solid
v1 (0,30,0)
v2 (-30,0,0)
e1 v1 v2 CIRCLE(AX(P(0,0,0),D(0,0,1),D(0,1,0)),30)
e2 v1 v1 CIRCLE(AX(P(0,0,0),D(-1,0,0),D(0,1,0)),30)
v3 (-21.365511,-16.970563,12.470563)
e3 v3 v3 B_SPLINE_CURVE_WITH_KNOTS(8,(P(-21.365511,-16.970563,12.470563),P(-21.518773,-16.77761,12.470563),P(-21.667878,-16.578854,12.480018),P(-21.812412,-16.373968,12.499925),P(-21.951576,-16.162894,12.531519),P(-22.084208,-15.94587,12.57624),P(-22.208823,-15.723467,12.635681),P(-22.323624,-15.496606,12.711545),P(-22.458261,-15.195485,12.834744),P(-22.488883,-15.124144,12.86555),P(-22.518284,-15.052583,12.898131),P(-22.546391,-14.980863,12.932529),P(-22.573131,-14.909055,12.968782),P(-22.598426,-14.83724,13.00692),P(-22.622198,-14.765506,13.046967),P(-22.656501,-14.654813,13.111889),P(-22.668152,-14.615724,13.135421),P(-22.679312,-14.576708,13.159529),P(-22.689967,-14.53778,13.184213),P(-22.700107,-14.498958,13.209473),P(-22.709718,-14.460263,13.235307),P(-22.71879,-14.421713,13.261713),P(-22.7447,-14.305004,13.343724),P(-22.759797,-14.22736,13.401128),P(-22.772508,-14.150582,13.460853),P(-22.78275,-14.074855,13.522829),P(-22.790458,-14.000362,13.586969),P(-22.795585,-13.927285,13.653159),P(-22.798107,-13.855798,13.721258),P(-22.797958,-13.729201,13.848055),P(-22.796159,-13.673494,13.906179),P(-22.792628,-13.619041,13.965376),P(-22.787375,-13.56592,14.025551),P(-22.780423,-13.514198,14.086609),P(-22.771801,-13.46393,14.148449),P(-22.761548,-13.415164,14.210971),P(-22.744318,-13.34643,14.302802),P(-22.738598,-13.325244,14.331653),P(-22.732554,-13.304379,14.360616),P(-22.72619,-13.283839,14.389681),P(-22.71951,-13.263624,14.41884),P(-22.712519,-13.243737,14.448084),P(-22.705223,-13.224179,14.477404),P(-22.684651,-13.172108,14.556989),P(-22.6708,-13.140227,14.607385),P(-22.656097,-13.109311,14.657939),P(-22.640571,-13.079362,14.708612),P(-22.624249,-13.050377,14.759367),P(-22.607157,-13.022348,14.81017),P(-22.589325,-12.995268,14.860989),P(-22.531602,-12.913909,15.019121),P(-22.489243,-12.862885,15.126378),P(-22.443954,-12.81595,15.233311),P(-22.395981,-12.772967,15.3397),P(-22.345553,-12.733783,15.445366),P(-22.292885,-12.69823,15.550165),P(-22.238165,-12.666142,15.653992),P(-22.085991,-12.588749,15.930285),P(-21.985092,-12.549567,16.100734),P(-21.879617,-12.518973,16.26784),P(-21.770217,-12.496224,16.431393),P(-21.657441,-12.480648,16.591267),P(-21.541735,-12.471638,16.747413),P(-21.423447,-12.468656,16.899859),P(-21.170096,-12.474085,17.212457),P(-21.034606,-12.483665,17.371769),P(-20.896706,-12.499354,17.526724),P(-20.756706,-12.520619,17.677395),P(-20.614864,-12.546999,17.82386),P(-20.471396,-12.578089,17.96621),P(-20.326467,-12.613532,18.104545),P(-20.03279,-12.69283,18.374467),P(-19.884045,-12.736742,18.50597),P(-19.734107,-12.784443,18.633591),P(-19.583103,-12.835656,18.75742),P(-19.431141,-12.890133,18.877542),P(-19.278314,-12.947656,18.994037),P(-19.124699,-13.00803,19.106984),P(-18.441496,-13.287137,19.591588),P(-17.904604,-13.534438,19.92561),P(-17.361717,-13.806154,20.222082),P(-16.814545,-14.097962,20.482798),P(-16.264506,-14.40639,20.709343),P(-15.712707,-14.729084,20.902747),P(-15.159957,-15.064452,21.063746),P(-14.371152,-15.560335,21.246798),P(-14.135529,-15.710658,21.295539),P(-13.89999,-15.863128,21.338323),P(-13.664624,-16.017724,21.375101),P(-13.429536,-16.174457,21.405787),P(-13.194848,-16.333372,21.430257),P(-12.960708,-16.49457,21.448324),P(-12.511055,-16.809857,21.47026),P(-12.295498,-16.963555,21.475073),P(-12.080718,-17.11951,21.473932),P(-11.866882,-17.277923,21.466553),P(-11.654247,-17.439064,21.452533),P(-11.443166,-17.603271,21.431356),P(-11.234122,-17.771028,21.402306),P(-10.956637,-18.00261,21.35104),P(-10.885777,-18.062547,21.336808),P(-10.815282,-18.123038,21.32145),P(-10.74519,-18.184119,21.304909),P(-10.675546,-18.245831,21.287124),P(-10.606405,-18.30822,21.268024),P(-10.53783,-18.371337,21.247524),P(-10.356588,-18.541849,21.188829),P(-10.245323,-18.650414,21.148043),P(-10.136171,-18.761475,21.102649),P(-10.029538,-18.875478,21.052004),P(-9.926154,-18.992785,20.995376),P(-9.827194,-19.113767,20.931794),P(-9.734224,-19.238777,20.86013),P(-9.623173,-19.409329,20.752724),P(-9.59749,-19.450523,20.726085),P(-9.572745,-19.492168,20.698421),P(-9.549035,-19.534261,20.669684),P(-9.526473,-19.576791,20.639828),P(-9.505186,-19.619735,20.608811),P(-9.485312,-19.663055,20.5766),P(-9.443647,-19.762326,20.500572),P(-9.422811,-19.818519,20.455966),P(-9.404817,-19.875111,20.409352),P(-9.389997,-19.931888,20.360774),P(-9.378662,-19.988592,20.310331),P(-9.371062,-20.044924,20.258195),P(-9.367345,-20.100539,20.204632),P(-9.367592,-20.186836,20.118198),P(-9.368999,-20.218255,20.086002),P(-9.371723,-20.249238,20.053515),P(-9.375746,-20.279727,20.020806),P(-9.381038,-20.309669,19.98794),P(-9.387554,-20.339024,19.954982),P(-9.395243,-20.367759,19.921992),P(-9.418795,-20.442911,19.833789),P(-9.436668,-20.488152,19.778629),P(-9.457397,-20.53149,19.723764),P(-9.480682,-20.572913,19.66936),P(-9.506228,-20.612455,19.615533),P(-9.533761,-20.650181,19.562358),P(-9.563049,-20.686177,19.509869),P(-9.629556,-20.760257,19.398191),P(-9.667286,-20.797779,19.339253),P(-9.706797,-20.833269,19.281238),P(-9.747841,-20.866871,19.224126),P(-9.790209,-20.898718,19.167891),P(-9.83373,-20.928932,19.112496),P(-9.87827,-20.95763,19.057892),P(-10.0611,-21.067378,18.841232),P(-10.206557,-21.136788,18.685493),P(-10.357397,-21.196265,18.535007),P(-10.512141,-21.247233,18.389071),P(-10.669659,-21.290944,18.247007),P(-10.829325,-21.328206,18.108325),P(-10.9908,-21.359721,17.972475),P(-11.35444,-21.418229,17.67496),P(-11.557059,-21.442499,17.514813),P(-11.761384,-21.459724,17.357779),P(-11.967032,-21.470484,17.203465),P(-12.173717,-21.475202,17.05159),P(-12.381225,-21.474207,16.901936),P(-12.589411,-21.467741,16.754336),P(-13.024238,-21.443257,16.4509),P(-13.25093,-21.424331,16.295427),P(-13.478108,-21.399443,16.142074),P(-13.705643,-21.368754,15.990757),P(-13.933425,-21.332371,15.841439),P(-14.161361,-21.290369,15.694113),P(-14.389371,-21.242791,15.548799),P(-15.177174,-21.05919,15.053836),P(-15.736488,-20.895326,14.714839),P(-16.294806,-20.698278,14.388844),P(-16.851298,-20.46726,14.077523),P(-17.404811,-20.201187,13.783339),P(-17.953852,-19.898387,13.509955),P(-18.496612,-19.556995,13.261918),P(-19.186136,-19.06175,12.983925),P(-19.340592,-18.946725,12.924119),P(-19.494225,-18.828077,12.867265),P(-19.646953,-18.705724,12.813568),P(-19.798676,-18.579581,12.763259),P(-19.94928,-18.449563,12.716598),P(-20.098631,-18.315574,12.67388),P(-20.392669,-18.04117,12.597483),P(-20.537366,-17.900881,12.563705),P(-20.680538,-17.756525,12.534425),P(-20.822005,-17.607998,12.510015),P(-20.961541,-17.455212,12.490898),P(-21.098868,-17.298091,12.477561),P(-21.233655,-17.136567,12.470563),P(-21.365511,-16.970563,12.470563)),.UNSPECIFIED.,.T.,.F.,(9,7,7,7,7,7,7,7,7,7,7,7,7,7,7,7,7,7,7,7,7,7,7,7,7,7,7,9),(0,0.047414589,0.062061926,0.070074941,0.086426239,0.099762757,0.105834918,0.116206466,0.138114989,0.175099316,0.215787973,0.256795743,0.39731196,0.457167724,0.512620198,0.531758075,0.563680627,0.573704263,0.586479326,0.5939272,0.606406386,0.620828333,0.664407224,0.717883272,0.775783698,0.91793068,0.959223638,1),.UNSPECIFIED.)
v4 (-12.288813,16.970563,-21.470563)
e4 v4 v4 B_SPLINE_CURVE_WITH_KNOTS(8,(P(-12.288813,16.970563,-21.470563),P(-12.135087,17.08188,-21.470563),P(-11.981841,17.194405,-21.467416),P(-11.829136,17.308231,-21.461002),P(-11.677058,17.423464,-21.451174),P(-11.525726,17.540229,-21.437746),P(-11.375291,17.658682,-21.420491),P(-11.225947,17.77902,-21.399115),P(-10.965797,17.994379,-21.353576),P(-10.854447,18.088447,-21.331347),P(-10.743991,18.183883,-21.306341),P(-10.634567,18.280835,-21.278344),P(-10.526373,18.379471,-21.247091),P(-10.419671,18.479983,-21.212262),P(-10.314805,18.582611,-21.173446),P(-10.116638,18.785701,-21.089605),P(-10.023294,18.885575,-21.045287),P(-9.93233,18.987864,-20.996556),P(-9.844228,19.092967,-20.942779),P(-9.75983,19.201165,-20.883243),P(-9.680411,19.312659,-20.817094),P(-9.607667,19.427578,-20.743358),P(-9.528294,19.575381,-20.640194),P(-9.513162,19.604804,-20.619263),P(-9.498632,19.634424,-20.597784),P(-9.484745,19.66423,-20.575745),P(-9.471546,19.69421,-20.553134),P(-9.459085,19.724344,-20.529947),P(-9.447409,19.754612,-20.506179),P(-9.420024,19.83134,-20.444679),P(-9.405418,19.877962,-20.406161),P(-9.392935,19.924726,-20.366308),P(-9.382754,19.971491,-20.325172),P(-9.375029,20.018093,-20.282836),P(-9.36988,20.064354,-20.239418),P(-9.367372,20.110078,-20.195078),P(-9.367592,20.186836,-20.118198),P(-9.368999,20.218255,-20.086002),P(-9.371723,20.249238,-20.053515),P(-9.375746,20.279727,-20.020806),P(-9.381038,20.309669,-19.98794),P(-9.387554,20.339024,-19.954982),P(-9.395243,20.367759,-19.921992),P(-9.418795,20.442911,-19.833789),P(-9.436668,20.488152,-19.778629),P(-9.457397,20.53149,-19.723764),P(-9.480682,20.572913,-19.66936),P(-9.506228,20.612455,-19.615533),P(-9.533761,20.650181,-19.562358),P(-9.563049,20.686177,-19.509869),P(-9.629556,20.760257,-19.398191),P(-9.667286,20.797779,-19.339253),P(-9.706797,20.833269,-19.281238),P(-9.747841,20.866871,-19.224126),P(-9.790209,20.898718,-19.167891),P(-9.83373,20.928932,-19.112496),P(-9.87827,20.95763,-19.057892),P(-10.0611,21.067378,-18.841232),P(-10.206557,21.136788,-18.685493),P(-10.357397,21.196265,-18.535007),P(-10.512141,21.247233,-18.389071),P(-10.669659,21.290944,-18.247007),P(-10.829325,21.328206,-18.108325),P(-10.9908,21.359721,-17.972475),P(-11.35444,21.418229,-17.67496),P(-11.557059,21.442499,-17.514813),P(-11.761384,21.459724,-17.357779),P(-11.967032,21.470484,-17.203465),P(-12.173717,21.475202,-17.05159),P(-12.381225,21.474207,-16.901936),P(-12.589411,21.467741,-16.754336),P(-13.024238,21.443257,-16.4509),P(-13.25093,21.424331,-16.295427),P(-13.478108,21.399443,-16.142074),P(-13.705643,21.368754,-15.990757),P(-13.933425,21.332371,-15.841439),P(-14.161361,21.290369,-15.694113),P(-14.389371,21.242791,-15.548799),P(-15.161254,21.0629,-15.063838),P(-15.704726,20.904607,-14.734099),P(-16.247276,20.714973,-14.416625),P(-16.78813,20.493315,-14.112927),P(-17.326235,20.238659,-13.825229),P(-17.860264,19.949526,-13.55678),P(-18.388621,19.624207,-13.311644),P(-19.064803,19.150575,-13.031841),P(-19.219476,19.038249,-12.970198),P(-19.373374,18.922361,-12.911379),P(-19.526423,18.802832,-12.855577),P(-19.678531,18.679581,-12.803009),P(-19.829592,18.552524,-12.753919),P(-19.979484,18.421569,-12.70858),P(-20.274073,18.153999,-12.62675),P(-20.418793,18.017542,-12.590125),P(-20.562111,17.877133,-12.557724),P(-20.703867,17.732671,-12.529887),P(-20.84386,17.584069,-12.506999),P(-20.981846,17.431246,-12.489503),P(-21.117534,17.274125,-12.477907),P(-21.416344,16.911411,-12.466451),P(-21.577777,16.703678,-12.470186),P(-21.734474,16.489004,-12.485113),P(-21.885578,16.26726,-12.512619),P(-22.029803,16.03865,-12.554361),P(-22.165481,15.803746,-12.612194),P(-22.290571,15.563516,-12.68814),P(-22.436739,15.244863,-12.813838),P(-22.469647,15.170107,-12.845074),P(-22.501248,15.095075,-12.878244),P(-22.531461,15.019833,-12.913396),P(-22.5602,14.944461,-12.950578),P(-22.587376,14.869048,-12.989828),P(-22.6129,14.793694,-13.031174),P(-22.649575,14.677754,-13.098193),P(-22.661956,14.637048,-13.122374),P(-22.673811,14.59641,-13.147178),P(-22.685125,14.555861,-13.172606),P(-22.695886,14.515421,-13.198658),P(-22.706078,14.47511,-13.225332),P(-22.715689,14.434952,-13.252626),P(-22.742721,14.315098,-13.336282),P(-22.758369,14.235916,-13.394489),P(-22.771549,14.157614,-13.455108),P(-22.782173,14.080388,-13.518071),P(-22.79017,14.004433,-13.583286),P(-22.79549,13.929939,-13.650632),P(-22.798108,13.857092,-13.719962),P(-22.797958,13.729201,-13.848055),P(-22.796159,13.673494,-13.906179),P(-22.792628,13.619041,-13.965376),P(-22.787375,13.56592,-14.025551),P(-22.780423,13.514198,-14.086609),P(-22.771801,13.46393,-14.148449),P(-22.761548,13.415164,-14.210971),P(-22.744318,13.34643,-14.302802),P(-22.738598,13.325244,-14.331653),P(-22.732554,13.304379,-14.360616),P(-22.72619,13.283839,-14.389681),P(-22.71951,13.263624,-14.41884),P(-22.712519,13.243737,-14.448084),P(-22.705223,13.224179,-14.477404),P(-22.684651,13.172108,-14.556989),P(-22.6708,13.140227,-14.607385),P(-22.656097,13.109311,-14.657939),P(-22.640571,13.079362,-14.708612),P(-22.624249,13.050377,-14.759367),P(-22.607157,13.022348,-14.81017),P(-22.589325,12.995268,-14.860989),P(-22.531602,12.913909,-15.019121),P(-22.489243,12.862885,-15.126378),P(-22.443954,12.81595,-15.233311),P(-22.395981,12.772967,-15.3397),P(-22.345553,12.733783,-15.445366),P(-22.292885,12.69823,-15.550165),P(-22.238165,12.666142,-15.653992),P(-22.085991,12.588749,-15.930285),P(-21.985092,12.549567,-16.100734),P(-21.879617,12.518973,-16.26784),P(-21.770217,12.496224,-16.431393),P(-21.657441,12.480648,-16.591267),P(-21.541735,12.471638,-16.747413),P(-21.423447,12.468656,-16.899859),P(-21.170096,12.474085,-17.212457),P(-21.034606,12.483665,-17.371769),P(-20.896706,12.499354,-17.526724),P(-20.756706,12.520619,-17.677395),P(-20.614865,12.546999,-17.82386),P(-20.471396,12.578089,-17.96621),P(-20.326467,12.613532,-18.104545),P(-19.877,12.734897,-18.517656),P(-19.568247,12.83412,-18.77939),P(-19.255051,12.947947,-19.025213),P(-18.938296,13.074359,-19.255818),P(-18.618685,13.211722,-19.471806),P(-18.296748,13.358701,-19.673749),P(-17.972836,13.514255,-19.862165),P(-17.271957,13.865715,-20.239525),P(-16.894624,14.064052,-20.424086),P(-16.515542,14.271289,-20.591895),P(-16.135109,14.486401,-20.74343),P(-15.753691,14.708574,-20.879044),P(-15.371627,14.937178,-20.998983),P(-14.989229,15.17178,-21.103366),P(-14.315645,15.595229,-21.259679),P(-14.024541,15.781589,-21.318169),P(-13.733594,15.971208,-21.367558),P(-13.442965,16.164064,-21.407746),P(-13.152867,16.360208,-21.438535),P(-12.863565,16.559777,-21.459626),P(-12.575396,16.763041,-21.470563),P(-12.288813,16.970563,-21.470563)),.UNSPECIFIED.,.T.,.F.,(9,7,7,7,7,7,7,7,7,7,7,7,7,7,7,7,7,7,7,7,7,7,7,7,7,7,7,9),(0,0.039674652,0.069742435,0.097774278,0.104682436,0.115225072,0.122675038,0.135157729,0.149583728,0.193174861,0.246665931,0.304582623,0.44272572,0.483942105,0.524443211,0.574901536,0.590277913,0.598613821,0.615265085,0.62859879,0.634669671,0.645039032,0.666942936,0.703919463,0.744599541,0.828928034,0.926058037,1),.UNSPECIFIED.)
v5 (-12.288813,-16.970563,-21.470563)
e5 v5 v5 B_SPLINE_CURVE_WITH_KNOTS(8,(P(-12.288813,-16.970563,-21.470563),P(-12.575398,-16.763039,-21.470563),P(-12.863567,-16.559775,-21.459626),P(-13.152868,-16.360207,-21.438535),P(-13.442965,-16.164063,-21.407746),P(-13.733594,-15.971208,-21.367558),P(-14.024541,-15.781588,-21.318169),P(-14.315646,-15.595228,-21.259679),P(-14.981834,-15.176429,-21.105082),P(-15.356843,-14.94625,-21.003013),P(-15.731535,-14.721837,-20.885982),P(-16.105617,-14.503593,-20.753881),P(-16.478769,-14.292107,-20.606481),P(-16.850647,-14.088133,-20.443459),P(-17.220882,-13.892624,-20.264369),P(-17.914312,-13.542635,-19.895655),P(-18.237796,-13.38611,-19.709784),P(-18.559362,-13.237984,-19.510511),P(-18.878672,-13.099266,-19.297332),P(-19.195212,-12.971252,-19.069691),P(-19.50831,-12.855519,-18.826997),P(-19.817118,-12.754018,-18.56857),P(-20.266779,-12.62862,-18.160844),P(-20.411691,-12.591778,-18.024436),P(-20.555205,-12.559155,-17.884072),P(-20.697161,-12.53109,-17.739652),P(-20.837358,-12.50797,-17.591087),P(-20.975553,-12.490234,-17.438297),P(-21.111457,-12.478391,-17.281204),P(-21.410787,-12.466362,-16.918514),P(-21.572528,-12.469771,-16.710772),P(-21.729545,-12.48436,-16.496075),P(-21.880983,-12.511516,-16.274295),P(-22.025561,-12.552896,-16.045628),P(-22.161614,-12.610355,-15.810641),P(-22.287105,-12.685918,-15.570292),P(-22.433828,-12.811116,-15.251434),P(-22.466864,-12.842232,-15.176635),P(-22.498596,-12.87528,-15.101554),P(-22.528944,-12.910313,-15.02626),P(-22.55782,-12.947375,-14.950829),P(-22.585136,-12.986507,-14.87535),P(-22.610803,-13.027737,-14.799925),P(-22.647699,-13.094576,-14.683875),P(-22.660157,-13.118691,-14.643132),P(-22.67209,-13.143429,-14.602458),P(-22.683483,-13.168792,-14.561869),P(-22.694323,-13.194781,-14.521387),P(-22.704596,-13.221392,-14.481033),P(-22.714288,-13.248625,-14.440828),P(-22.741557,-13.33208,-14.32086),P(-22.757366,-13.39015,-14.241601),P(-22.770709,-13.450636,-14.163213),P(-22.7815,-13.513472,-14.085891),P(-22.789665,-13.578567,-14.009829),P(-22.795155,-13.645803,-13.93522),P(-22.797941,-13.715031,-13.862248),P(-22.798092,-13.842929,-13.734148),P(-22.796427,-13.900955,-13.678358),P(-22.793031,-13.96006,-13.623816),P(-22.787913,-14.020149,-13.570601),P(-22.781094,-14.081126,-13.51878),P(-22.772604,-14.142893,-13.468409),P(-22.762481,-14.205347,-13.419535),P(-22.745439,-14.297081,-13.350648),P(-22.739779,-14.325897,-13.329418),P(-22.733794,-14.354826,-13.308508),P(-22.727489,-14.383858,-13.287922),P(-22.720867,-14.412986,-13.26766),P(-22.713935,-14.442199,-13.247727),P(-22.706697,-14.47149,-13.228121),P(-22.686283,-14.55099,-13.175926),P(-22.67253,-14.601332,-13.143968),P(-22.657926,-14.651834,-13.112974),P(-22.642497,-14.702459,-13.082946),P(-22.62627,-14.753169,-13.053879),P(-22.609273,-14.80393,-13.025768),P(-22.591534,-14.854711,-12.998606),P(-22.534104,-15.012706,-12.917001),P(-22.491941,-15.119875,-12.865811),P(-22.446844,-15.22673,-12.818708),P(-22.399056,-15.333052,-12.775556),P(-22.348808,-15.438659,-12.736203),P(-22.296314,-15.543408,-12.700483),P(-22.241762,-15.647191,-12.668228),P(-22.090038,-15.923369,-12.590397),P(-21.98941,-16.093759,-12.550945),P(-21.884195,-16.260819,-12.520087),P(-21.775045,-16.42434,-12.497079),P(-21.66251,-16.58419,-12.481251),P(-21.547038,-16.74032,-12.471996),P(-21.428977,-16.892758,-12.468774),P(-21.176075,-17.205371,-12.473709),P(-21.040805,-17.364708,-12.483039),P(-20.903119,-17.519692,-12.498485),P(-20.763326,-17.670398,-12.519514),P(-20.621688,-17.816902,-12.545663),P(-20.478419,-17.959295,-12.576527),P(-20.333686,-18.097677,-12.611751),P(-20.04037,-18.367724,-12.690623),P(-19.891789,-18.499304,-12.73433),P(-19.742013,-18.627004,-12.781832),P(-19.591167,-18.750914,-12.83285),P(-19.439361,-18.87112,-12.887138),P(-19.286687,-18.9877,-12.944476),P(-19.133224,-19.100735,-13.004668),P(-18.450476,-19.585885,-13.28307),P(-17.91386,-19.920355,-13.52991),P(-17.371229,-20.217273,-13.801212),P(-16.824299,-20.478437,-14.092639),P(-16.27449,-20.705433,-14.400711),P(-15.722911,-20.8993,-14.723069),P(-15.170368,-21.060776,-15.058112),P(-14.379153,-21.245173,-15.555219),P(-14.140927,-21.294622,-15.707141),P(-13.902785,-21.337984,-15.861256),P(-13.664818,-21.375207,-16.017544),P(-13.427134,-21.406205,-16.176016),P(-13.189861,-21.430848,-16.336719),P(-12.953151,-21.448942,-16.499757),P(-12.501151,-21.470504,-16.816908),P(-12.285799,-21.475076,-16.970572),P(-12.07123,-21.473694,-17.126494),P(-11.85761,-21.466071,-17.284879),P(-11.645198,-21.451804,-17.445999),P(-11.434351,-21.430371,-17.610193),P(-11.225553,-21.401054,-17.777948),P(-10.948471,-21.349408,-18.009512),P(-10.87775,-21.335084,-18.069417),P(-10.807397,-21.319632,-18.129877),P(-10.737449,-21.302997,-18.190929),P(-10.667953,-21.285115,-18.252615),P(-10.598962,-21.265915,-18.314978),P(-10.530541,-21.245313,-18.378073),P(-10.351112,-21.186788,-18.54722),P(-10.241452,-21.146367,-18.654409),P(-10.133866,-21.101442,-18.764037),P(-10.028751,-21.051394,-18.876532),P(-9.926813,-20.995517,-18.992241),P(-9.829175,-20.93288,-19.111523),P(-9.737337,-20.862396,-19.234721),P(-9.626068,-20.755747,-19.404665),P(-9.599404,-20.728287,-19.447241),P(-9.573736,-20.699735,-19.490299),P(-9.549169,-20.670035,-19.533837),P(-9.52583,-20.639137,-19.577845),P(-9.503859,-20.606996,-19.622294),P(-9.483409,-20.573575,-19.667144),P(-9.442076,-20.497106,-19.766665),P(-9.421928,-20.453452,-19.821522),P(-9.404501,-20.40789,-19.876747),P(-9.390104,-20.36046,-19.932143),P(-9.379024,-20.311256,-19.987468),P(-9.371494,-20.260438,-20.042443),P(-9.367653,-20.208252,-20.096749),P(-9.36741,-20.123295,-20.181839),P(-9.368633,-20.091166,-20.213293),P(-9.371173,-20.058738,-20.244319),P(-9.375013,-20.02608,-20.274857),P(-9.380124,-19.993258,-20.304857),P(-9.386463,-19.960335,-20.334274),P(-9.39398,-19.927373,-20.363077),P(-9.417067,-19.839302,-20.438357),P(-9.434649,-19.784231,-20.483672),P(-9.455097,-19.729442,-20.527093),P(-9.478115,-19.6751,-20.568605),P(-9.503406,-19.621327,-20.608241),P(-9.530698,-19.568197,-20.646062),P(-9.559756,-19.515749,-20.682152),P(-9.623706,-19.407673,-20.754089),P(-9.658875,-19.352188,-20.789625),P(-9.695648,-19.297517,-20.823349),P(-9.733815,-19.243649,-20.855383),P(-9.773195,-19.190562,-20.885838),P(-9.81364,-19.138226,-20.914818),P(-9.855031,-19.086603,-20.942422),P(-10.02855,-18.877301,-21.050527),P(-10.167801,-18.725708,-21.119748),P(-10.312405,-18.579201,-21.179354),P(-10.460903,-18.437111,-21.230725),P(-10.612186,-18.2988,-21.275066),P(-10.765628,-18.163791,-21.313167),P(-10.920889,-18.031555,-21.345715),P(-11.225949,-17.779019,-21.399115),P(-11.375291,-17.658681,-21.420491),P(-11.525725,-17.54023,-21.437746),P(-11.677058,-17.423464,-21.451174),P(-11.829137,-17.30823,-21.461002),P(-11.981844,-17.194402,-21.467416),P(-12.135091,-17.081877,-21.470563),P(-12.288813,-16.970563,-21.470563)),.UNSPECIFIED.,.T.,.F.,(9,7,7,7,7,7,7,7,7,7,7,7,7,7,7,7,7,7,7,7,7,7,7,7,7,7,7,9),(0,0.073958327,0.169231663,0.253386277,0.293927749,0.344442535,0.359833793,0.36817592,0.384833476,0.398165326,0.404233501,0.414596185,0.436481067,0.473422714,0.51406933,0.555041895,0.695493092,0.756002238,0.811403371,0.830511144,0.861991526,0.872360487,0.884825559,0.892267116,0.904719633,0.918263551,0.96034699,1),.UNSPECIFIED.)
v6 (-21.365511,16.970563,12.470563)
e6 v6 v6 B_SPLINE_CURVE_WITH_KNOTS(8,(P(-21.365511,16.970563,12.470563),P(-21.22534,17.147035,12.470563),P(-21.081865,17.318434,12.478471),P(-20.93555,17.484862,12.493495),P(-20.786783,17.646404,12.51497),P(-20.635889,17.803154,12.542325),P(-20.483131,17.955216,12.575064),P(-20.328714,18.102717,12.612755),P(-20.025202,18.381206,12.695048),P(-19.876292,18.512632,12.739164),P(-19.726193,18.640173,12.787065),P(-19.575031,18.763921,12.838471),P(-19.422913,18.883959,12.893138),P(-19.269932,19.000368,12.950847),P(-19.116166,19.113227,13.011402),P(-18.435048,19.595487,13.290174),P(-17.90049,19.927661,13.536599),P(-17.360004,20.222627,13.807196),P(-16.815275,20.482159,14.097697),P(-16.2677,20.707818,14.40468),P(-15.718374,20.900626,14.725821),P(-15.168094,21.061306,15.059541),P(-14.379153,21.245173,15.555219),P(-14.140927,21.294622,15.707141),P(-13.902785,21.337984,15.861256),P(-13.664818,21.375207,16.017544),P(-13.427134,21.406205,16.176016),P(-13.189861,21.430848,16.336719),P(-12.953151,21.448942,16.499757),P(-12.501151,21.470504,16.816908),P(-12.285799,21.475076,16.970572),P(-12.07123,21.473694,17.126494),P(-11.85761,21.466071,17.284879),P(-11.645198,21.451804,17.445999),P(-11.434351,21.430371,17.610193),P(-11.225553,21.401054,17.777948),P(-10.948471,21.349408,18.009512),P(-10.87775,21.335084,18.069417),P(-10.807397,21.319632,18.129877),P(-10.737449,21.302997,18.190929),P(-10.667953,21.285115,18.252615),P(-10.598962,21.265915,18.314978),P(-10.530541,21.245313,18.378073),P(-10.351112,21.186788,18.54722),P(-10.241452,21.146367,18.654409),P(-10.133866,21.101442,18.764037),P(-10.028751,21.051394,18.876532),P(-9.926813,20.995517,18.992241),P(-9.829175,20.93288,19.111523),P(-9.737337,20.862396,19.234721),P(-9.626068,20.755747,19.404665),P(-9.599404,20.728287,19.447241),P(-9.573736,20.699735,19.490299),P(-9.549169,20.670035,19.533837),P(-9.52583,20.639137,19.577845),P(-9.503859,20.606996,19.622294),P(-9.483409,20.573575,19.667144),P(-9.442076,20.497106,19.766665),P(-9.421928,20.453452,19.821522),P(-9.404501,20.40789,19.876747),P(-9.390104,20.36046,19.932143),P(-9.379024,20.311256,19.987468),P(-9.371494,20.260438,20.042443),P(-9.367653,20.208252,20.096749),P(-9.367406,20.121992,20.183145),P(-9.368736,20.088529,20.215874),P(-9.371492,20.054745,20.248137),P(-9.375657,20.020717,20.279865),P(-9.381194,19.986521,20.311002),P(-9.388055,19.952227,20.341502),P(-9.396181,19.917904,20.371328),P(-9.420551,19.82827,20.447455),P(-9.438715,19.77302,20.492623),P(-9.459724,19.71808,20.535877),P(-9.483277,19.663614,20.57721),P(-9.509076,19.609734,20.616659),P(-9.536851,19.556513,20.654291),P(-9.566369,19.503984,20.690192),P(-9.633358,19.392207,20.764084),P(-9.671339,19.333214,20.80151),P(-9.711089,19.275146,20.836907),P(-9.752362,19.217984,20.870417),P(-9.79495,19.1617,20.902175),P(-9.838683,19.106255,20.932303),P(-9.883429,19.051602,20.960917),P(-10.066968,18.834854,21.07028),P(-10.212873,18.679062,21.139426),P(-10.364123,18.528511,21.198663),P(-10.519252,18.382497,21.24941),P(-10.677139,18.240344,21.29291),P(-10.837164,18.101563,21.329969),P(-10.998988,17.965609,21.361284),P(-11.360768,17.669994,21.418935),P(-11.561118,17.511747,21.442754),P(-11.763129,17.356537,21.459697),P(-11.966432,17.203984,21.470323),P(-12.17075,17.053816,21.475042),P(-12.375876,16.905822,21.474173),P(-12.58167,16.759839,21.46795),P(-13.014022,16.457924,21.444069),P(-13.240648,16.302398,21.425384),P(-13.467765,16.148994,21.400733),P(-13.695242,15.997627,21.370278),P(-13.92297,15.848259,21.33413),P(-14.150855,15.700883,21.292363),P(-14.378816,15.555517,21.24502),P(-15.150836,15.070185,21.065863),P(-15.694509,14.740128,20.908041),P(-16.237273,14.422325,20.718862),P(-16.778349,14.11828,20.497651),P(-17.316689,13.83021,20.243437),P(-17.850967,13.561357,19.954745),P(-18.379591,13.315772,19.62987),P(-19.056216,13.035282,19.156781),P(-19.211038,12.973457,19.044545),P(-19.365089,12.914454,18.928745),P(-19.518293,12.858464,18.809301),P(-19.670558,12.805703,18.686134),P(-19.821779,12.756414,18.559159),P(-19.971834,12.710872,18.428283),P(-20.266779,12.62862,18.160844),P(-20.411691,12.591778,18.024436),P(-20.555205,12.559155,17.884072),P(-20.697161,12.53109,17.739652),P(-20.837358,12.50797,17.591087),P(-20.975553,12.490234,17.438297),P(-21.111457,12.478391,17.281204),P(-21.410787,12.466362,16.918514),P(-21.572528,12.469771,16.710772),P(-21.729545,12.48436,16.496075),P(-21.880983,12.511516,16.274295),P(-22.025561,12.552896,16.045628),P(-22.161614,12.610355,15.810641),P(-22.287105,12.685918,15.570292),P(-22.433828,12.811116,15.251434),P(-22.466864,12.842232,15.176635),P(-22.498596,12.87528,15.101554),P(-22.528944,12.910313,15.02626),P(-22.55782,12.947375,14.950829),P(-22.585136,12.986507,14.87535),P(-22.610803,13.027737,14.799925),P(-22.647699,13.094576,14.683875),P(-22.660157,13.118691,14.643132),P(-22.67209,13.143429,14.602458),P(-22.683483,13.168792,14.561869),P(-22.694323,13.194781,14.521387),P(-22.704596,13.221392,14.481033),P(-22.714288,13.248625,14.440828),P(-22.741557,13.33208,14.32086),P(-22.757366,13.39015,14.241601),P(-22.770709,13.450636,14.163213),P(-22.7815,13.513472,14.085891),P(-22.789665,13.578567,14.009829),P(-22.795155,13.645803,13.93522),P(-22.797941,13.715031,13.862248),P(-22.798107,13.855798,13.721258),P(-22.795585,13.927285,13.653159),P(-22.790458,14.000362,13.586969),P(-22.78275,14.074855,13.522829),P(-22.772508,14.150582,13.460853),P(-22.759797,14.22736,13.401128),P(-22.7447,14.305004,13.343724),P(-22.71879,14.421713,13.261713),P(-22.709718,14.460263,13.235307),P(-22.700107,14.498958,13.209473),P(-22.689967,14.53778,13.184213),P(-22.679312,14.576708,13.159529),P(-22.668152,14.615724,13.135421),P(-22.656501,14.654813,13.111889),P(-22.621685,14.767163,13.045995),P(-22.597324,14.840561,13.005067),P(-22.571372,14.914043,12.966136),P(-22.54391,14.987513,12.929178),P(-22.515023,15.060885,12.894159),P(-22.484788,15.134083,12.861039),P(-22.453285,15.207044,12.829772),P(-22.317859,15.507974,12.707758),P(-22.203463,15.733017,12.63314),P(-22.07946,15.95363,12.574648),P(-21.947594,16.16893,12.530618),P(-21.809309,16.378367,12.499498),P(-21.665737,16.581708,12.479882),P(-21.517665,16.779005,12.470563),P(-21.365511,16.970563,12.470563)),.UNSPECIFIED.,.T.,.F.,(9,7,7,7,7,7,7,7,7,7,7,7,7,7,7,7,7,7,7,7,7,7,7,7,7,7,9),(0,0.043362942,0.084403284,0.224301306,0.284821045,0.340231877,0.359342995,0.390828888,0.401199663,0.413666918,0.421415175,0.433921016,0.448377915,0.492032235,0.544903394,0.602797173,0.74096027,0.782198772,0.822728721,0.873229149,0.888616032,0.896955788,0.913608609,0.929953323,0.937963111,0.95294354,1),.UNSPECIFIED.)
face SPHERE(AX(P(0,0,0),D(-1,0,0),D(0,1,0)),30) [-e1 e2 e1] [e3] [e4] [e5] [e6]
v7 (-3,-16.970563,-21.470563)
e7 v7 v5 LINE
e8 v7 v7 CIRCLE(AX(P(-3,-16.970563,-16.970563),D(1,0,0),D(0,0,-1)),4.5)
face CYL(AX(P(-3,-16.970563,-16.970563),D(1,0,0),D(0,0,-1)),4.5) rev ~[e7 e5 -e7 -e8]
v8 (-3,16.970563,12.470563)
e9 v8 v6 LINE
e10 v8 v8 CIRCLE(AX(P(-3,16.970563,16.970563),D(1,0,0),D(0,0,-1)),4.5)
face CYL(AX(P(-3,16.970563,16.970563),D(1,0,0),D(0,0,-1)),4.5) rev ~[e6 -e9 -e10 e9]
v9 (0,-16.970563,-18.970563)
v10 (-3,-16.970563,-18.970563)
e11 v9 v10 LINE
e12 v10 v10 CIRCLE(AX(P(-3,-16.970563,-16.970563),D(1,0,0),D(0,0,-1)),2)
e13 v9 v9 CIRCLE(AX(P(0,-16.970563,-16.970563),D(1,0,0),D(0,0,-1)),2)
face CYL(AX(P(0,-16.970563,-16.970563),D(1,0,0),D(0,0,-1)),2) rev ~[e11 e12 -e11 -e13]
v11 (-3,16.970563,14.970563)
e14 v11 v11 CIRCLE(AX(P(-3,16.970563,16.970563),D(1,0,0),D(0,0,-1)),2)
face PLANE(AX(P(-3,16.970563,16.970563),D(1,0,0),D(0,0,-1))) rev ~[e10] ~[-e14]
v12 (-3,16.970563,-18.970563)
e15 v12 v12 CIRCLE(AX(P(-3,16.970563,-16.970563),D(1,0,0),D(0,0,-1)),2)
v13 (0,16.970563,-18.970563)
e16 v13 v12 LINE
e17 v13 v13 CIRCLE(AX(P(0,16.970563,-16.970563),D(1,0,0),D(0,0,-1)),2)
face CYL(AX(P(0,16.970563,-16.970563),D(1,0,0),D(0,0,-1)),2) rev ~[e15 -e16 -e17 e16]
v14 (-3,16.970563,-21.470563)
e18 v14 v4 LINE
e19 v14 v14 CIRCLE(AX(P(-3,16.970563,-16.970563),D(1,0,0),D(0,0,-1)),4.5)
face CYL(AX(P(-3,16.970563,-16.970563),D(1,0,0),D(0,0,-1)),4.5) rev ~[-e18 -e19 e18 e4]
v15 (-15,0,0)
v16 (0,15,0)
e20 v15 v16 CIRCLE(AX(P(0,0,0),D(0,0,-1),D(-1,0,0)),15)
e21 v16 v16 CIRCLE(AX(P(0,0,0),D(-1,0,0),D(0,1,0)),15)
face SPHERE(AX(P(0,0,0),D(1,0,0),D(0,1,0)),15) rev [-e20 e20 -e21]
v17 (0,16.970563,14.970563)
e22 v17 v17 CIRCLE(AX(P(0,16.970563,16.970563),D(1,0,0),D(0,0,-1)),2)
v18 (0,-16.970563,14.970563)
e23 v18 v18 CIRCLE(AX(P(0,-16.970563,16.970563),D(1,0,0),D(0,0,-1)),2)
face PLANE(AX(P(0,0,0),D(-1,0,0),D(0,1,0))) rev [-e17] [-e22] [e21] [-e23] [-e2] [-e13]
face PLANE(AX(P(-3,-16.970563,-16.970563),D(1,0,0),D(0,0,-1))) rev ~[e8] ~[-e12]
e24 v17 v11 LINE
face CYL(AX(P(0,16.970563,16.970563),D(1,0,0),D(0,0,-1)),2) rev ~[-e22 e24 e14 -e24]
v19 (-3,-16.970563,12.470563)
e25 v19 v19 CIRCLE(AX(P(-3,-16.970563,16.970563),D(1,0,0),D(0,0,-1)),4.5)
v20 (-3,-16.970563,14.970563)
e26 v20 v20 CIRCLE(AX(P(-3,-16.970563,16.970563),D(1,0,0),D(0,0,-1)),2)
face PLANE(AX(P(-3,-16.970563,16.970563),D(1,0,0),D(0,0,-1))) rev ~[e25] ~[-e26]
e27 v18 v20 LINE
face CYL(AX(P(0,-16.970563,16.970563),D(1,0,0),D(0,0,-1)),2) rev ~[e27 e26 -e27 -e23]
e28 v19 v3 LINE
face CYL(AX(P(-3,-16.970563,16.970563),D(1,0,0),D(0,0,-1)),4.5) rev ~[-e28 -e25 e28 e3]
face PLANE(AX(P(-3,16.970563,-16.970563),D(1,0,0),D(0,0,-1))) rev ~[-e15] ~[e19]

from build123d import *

# Parameters (mm, degrees)
SKETCH4_R               = 2
CUT_EXTRUDE3_DEPTH      = 1
CUT_EXTRUDE3_DEPTH_BACK = 31
SKETCH5_R               = 4.5
CUT_EXTRUDE4_DEPTH      = 28


with BuildPart() as part:
    # Sketch3 → Revolve1 (revolve)
    with BuildSketch(Plane.XY):
        with BuildLine():
            Line((-30, 0), (-15, 0))
            ThreePointArc((-15, 0), (-10.606601718, 10.606601718), (0, 15))
            Line((0, 15), (0, 30))
            ThreePointArc((0, 30), (-21.213203436, 21.213203436), (-30, 0))
        make_face()
    revolve(axis=Axis((0, 0, 0), (-1, 0, 0)))

    # Sketch4 → Cut-Extrude3 (cut, two sides)
    with BuildSketch(Plane(origin=(0, 0, 0), x_dir=(0, 0, -1), z_dir=(1, 0, 0))) as cut_extrude3_sk:
        with Locations((-16.970562748, 16.970562748)):
            Circle(SKETCH4_R)
        with Locations((16.970562748, 16.970562748)):
            Circle(SKETCH4_R)
        with Locations((16.970562748, -16.970562748)):
            Circle(SKETCH4_R)
        with Locations((-16.970562748, -16.970562748)):
            Circle(SKETCH4_R)
    extrude(amount=CUT_EXTRUDE3_DEPTH, mode=Mode.SUBTRACT)
    extrude(cut_extrude3_sk.sketch, amount=-CUT_EXTRUDE3_DEPTH_BACK, mode=Mode.SUBTRACT)

    # Sketch5 → Cut-Extrude4 (cut, through all)
    with BuildSketch(Plane(origin=(-3, 0, 0), x_dir=(0, 0, -1), z_dir=(1, 0, 0))):
        with Locations((-16.970562748, 16.970562748)):
            Circle(SKETCH5_R)
        with Locations((16.970562748, 16.970562748)):
            Circle(SKETCH5_R)
        with Locations((16.970562748, -16.970562748)):
            Circle(SKETCH5_R)
        with Locations((-16.970562748, -16.970562748)):
            Circle(SKETCH5_R)
    extrude(amount=-CUT_EXTRUDE4_DEPTH, mode=Mode.SUBTRACT)


solid = part.part
